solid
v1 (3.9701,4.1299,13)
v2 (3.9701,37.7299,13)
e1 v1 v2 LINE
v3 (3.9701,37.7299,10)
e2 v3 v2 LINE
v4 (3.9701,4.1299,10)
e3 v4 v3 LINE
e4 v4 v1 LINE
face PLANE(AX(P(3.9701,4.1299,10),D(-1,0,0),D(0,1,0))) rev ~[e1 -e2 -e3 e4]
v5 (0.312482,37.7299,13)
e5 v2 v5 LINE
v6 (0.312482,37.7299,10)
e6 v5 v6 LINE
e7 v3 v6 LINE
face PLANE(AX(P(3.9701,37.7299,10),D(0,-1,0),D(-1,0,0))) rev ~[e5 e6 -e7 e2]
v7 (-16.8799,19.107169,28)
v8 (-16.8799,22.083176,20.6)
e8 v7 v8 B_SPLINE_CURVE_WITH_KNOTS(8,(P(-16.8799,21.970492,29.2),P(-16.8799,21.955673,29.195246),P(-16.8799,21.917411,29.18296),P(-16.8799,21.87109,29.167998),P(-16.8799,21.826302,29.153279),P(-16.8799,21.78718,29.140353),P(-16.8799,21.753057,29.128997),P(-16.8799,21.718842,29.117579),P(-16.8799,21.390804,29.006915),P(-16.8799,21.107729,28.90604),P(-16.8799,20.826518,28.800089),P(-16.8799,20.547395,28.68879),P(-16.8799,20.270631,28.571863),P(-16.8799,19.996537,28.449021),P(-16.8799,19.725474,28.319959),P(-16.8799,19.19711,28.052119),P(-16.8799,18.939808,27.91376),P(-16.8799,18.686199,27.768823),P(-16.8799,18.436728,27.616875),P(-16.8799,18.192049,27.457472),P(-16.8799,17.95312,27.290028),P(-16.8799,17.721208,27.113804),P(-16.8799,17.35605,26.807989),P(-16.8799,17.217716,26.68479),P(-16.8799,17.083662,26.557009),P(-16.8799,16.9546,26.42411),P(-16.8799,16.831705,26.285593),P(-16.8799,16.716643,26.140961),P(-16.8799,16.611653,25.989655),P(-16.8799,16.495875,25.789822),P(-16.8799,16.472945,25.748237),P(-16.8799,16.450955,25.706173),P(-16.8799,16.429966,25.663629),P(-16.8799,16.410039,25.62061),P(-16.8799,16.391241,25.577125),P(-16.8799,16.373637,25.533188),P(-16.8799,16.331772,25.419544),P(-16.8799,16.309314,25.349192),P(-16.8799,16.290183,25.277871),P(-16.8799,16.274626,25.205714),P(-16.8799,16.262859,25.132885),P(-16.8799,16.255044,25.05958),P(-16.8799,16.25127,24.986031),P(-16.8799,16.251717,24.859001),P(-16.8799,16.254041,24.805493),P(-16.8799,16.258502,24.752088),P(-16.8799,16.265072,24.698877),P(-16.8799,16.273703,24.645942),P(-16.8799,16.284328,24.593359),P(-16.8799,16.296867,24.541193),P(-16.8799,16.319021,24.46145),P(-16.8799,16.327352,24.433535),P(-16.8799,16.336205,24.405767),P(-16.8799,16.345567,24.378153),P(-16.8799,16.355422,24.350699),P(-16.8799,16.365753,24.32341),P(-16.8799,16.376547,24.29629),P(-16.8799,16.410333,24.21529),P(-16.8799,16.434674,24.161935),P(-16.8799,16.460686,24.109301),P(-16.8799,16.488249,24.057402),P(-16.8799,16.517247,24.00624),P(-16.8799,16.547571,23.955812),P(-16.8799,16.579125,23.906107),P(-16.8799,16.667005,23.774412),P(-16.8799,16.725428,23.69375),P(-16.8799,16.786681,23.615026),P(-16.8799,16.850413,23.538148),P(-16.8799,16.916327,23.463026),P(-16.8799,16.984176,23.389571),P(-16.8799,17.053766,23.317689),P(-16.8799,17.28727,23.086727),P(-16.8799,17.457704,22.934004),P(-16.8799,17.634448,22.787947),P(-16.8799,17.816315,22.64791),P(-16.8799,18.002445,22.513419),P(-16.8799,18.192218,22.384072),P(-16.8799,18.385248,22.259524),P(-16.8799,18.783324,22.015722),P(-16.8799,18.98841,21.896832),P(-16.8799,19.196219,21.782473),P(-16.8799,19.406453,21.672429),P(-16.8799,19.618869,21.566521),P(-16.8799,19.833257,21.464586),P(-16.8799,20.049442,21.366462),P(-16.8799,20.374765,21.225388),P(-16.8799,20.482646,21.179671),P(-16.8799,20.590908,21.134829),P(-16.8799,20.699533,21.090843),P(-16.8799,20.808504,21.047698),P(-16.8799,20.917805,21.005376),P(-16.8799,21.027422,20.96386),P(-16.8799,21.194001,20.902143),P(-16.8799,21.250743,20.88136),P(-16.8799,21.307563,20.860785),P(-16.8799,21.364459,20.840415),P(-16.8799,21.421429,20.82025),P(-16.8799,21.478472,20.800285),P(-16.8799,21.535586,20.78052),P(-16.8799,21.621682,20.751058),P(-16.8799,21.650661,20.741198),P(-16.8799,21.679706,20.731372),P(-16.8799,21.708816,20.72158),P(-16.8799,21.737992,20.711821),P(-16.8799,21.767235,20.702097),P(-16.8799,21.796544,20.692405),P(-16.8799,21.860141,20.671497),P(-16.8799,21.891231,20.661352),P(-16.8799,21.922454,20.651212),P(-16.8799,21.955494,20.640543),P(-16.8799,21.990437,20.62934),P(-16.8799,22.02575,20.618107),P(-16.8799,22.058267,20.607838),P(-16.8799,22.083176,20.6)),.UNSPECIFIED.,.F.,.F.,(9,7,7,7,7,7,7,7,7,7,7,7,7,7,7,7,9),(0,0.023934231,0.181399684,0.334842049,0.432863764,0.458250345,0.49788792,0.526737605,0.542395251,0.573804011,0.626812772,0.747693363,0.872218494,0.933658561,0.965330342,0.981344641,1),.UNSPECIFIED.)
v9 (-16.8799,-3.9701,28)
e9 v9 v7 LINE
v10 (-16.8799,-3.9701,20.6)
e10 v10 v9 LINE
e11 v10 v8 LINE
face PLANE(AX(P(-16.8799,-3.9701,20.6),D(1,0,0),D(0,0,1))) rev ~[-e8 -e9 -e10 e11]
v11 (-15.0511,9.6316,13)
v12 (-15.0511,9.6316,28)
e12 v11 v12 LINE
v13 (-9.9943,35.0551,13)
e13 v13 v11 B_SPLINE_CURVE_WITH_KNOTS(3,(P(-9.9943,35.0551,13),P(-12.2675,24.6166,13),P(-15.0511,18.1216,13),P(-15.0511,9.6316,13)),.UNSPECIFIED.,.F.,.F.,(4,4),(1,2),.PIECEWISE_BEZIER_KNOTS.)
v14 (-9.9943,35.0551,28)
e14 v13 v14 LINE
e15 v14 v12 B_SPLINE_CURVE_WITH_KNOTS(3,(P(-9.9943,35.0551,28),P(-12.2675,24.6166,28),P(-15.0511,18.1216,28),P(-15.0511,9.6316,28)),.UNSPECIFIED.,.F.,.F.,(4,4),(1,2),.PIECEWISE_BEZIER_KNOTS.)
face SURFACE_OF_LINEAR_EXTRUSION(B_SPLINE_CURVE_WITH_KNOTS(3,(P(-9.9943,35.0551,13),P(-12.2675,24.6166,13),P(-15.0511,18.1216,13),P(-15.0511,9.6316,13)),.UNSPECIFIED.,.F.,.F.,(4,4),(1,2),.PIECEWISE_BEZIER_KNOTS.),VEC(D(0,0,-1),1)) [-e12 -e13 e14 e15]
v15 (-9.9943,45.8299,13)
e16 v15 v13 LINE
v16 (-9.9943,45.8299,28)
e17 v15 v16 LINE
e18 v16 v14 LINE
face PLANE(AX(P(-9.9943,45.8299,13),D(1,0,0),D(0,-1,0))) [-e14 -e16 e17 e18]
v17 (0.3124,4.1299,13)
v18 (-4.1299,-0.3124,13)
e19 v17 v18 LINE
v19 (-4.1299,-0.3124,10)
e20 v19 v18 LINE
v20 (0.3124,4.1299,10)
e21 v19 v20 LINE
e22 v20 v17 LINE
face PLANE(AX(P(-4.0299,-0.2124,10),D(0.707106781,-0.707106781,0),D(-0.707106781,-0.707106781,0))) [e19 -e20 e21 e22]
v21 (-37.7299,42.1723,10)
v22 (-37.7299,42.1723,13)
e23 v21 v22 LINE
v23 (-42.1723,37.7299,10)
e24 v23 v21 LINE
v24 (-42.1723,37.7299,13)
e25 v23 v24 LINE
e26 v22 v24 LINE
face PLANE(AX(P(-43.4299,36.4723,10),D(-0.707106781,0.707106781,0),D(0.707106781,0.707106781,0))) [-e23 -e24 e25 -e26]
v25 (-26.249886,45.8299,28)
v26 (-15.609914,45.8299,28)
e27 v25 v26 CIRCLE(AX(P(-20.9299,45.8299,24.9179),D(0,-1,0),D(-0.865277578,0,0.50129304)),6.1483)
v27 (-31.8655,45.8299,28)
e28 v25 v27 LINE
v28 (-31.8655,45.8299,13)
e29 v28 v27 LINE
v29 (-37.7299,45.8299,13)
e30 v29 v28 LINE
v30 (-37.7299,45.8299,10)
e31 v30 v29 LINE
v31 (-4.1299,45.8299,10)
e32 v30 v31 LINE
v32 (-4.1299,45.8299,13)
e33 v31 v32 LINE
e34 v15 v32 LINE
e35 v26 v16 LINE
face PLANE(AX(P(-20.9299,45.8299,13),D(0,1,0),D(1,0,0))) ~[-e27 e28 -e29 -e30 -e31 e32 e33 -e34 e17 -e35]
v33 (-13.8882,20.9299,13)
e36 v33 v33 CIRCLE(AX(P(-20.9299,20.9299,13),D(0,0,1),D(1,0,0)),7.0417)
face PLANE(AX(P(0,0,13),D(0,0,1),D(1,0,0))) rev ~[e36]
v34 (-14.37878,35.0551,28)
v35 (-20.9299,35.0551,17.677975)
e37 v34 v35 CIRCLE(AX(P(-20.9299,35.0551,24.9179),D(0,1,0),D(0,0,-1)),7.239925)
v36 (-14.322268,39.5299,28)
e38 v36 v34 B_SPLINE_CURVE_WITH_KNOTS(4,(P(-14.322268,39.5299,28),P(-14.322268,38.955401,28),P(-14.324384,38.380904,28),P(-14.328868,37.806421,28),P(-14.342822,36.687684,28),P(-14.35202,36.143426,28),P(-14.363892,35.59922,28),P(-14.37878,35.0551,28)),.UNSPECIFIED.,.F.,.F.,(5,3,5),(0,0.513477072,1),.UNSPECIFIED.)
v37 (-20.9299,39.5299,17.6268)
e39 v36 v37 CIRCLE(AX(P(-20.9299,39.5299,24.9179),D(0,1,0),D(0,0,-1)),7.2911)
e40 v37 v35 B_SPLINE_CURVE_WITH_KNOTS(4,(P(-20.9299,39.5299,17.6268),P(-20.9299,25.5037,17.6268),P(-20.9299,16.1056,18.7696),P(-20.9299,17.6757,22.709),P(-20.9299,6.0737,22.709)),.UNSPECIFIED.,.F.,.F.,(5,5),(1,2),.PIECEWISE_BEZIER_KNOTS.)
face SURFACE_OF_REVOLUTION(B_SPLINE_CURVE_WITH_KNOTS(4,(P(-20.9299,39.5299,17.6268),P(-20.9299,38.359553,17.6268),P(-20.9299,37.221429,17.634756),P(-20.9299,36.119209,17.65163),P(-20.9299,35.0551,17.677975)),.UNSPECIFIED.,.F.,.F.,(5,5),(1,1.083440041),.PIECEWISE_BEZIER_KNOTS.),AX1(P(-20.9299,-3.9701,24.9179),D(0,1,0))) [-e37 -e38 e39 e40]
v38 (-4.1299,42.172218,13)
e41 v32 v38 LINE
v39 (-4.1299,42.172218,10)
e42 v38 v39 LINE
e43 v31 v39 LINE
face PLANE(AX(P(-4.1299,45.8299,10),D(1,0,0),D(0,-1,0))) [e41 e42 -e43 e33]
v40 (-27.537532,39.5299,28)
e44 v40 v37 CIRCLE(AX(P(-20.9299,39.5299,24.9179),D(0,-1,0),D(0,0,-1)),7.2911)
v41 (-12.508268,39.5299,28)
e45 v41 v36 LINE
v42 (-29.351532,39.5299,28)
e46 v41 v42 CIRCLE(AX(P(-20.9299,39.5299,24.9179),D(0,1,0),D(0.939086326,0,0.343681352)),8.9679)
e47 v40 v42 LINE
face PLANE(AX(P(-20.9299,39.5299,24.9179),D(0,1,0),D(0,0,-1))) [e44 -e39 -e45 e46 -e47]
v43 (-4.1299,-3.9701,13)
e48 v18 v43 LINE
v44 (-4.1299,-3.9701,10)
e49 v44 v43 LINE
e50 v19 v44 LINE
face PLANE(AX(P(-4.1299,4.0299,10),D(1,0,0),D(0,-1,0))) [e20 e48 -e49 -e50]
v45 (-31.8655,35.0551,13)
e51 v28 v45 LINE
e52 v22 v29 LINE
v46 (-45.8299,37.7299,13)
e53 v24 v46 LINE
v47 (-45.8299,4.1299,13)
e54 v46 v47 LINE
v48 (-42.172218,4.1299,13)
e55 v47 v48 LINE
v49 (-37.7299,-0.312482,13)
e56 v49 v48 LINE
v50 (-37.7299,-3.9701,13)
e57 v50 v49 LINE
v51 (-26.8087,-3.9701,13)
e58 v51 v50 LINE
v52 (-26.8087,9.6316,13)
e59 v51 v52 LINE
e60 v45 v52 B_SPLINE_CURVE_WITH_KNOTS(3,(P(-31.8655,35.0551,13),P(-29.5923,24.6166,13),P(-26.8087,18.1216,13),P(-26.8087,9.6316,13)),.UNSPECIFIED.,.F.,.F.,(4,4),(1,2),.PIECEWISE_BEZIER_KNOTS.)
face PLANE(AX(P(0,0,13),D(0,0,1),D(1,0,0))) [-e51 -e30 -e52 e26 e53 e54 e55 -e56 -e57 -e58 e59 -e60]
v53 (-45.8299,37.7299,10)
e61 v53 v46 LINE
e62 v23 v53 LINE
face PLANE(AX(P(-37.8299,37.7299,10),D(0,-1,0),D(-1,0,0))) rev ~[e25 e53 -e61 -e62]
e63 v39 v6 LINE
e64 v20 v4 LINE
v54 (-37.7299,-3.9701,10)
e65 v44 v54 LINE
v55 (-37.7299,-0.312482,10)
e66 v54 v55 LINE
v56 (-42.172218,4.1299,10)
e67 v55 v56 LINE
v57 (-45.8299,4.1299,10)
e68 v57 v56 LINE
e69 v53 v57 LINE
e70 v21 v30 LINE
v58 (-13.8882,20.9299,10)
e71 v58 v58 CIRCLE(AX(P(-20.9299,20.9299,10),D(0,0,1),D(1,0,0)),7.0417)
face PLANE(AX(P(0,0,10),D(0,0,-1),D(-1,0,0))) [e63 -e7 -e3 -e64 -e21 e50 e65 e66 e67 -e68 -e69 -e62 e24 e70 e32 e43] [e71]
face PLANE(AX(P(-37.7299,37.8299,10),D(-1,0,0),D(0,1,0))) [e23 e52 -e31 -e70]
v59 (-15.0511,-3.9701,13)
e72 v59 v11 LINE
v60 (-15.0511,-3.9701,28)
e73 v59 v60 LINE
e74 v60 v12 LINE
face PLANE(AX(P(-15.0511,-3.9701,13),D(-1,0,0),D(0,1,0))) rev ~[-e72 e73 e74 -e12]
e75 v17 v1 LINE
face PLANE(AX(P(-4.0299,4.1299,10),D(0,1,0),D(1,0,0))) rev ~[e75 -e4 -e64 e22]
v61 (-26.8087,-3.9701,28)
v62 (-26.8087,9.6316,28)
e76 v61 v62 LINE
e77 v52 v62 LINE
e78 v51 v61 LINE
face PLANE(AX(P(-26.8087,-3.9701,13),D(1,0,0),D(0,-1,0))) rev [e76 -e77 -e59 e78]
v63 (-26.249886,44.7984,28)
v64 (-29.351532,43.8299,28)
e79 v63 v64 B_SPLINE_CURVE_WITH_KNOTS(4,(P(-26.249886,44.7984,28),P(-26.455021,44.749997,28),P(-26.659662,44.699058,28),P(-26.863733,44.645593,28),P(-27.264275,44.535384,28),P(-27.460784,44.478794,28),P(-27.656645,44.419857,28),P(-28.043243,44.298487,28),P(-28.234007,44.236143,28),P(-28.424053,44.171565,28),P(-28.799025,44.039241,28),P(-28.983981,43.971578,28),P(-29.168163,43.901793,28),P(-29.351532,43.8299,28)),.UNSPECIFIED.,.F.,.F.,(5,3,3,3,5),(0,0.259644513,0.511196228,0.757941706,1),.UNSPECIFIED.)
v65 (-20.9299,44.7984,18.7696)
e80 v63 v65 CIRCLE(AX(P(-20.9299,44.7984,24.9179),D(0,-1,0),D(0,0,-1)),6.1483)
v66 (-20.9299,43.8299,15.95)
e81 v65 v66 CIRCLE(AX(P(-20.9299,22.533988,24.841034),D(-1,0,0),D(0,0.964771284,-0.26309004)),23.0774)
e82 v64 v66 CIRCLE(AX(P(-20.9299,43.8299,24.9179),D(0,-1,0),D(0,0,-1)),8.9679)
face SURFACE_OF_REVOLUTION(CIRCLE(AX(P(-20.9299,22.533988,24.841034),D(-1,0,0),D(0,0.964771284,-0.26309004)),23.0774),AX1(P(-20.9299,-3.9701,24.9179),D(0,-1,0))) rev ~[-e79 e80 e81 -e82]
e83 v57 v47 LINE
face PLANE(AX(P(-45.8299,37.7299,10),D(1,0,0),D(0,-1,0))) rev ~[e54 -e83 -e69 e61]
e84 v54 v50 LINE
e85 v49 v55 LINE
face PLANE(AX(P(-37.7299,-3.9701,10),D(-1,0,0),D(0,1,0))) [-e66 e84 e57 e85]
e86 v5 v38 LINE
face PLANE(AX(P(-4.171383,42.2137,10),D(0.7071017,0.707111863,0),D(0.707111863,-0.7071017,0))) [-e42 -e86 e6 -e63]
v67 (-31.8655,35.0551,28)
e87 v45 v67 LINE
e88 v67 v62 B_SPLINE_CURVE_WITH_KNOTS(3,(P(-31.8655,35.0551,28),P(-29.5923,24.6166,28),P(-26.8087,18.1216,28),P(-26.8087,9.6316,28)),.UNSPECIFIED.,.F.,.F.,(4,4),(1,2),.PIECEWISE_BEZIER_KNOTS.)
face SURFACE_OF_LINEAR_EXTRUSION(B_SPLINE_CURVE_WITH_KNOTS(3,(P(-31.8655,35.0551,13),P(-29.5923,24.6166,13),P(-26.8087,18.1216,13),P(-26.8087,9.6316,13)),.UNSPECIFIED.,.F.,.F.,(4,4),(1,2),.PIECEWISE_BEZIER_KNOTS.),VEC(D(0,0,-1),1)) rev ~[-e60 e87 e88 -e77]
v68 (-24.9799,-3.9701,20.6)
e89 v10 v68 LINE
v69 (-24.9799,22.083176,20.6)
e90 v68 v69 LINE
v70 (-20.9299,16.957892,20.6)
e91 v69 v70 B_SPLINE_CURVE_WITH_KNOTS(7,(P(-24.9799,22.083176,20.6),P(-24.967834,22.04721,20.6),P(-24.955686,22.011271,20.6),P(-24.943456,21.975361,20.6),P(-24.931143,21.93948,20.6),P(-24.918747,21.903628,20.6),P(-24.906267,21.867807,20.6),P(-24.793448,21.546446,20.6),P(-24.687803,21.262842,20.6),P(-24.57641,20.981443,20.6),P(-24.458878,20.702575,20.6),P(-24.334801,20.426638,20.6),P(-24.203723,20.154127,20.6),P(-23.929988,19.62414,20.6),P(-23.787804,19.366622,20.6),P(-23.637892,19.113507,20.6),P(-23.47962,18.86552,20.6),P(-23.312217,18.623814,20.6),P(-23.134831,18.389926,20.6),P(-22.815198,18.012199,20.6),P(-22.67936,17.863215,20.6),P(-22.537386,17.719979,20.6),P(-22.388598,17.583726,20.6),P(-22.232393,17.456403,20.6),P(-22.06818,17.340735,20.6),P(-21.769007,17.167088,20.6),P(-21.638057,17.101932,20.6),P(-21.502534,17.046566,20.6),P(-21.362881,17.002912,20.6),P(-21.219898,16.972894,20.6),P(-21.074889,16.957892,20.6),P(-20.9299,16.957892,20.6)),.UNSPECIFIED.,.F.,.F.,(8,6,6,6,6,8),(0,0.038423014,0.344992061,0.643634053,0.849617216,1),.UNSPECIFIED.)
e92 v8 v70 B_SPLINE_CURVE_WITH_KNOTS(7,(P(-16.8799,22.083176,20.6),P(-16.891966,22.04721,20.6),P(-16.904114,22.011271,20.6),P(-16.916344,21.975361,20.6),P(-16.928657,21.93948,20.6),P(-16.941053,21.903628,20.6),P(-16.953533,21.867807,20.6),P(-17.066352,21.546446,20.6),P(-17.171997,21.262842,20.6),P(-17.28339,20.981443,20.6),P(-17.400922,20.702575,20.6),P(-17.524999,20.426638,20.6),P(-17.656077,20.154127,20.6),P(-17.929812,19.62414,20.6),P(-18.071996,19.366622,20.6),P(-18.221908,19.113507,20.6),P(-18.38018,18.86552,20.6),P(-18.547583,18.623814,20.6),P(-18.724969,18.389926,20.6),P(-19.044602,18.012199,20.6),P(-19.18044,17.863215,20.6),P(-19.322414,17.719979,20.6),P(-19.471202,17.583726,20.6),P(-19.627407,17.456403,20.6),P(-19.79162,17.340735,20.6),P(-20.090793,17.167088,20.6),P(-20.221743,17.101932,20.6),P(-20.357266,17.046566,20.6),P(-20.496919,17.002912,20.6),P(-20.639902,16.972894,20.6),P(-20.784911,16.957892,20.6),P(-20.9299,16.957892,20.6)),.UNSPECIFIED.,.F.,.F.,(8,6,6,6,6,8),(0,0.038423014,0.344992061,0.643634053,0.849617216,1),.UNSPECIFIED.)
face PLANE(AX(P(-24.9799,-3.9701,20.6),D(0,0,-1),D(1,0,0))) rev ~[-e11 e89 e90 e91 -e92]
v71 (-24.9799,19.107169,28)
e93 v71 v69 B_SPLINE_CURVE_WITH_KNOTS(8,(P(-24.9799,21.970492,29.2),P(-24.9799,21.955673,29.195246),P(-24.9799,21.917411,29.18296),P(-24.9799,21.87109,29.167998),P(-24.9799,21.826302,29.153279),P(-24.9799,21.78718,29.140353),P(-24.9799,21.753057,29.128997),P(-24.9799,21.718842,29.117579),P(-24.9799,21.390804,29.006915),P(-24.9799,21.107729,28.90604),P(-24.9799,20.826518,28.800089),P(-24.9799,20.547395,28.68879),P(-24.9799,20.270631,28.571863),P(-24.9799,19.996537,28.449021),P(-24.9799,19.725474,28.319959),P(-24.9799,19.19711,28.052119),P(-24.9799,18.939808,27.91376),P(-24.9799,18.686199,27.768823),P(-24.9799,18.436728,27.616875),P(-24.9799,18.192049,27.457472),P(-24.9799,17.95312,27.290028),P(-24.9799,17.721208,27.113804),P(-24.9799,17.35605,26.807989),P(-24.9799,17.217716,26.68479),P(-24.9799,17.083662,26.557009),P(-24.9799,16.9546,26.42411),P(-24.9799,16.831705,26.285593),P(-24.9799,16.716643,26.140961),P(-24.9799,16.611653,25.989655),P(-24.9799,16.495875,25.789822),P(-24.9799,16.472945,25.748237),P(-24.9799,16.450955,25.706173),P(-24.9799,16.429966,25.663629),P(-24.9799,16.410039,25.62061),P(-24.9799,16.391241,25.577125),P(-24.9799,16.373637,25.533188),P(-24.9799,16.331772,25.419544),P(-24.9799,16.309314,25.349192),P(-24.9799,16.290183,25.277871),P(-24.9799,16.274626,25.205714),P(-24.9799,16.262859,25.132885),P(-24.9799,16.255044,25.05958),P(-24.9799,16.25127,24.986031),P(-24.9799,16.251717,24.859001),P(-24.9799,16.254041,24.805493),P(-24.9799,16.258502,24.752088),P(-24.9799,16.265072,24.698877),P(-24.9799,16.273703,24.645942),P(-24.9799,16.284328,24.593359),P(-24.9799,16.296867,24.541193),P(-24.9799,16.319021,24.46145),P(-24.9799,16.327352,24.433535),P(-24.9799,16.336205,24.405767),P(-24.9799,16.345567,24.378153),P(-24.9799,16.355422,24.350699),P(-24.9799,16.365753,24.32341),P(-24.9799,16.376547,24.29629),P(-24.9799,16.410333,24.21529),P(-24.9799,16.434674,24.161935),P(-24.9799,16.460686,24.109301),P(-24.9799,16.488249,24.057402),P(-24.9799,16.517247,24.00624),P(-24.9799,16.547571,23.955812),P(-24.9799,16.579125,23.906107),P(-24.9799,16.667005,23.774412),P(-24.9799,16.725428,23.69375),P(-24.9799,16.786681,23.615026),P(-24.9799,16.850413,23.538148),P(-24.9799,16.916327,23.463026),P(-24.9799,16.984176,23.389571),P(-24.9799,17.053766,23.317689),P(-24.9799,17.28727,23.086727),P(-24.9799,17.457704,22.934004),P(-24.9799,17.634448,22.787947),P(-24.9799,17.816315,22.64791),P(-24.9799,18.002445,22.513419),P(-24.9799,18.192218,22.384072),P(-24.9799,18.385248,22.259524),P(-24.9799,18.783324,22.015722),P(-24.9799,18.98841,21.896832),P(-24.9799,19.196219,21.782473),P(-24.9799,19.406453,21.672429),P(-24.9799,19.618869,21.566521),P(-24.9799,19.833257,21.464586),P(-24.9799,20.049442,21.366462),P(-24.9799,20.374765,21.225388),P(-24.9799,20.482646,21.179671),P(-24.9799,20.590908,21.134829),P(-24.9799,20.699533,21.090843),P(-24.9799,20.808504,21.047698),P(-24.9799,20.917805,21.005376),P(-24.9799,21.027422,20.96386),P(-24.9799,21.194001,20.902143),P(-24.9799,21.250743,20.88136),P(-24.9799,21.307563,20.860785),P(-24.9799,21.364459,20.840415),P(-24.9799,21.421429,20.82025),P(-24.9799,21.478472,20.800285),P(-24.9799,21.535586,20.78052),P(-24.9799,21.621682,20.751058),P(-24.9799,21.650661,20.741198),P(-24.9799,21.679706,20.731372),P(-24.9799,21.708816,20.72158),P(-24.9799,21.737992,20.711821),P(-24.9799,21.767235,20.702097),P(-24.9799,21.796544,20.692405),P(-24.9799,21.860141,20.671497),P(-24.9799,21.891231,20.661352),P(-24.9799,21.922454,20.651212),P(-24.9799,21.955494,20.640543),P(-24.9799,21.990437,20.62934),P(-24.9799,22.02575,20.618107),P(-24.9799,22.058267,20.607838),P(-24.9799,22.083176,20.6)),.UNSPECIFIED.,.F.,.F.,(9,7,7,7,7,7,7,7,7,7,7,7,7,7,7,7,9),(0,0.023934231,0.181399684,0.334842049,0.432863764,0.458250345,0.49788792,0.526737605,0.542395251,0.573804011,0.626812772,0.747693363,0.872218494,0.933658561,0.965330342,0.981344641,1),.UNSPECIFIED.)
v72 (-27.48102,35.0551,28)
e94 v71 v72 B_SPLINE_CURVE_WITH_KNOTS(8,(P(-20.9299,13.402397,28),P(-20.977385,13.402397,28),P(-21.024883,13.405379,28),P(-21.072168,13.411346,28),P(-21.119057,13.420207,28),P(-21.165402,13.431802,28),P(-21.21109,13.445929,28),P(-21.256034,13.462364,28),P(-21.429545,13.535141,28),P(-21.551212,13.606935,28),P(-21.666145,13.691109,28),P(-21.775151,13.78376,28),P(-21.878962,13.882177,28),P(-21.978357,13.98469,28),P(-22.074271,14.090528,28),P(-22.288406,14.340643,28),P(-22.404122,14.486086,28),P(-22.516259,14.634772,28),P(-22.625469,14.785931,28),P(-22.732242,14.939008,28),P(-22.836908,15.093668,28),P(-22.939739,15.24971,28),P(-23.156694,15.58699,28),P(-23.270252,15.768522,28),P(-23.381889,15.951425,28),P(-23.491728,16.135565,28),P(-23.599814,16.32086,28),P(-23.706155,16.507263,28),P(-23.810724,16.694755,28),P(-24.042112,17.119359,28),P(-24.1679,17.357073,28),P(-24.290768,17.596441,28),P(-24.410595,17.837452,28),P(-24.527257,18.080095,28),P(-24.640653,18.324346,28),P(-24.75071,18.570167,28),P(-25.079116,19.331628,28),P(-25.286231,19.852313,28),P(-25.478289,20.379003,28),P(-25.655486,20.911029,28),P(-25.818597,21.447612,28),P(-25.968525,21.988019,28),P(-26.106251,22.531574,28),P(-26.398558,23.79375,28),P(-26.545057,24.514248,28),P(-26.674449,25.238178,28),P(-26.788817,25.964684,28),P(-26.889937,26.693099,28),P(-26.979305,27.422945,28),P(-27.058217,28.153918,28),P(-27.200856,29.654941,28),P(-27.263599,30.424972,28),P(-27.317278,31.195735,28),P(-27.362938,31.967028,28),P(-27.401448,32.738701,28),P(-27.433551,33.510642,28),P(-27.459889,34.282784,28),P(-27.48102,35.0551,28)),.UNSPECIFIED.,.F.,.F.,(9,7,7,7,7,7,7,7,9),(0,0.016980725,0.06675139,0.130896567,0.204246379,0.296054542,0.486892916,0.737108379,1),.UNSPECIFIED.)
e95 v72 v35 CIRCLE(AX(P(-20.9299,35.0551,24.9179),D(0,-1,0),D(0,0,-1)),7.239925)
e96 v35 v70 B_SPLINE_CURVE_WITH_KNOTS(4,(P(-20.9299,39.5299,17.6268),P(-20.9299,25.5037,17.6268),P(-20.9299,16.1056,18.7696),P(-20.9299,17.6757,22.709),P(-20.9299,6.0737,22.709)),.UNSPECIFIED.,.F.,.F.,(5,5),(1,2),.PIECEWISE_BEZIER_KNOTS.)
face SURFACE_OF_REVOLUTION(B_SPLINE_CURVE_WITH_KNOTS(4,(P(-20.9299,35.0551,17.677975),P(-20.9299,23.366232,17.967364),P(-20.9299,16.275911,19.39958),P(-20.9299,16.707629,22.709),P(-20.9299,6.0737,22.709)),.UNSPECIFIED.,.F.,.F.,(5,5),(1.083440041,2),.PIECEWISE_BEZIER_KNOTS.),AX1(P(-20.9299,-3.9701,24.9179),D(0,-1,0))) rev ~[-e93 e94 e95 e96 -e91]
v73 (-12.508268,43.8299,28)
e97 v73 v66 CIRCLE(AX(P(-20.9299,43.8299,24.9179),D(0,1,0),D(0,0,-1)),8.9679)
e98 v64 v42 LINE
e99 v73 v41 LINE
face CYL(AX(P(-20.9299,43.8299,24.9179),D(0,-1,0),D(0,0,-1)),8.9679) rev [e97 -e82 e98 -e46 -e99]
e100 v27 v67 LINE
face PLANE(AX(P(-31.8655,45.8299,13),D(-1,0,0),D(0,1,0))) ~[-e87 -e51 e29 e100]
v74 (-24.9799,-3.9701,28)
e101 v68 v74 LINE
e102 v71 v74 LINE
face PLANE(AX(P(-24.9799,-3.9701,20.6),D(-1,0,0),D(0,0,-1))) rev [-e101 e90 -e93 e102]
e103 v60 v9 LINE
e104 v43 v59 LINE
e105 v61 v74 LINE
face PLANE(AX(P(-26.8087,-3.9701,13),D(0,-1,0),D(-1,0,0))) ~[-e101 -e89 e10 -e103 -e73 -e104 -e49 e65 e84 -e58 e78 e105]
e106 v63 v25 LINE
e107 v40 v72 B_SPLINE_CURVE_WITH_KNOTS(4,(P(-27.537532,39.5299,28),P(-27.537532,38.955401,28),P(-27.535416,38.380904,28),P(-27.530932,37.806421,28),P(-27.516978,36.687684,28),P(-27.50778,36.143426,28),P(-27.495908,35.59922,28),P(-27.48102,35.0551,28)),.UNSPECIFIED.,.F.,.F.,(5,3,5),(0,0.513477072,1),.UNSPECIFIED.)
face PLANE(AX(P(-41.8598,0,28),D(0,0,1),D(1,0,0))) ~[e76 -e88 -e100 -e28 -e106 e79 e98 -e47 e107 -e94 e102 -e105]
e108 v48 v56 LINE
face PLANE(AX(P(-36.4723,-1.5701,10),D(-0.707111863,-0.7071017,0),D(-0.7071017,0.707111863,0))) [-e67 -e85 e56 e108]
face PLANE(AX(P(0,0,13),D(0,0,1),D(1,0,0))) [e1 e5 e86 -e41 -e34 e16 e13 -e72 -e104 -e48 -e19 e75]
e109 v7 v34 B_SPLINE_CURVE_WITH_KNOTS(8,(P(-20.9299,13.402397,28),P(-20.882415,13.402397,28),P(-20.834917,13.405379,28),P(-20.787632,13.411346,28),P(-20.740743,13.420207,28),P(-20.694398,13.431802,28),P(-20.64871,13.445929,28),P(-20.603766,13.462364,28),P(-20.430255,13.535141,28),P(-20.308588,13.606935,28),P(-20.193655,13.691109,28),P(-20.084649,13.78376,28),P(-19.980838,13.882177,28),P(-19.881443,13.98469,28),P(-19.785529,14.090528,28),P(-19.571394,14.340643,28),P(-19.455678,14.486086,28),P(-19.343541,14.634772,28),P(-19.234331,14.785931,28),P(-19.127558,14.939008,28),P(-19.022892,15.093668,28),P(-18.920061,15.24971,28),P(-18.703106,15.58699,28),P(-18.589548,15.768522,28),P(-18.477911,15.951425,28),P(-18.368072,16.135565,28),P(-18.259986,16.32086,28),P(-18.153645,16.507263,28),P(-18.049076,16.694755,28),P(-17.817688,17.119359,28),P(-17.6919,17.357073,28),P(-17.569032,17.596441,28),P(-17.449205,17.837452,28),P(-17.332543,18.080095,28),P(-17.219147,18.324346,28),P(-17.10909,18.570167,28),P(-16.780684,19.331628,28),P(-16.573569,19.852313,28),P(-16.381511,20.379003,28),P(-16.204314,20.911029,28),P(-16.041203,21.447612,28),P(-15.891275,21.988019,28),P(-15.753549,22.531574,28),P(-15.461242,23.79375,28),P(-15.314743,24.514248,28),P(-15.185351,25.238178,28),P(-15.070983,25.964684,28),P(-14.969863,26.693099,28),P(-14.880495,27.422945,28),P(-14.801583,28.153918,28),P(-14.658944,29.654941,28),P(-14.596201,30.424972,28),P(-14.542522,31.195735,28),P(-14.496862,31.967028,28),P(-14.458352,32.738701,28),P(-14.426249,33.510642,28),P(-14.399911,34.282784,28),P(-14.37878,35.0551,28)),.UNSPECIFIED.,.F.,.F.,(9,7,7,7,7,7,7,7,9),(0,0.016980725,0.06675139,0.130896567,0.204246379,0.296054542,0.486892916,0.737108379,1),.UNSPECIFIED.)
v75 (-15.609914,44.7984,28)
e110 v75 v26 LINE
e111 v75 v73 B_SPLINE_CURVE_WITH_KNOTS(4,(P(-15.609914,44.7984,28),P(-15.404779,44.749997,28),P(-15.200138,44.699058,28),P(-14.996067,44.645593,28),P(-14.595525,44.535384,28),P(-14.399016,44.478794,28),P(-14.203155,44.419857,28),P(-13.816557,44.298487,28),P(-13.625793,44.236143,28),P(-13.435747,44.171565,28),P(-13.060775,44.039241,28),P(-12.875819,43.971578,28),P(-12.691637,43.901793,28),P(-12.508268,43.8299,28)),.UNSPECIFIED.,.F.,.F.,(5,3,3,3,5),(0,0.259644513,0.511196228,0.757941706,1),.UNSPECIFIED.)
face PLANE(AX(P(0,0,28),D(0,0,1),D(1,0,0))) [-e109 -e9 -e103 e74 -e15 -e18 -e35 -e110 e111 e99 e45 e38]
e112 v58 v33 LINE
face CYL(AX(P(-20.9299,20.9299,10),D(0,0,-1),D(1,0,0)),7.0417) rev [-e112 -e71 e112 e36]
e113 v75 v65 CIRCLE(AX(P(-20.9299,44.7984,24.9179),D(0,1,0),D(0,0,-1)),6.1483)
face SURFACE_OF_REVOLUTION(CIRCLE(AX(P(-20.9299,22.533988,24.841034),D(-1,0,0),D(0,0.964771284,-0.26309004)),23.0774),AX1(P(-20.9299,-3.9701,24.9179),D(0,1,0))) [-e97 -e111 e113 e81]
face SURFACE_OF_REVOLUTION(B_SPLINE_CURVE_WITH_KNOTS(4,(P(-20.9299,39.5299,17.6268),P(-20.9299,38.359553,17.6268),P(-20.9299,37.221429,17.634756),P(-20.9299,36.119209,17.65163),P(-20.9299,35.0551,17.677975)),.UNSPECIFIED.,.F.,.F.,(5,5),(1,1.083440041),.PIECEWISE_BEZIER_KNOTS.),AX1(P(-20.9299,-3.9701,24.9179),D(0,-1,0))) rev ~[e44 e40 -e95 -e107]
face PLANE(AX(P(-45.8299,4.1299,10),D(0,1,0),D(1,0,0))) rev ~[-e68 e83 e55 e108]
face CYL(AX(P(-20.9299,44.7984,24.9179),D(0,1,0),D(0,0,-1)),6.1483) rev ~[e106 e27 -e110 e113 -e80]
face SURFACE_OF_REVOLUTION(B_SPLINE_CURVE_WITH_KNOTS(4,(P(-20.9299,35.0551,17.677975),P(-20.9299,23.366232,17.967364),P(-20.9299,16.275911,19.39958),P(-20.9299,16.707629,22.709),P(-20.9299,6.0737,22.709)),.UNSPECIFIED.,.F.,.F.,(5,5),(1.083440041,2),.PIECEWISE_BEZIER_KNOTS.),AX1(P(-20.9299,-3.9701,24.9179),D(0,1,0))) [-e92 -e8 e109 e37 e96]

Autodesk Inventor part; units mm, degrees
ref_plane "YZ Plane" through (0, 0, 0) normal (1, 0, 0) x (0, 1, 0)
ref_plane "Work Plane1" through (0, 0, 10) normal (0, 0, 1) x (1, 0, 0)
sketch "Sketch1" plane through (0, 0, 10) normal (0, 0, 1) x (1, 0, 0)
  line L0 (-4.0299, -0.3538) -> (-2.2322, 1.4439) construction
  arc A0 (-1.4439, 2.2322) -> (-2.2322, 1.4439) centre (-0.9299, 0.9299) ccw construction
  line L1 (-1.4439, 2.2322) -> (0.3538, 4.0299) construction
  line L2 (-37.8299, 42.2137) -> (-37.8299, 45.8299) construction
  line L3 (-37.8299, 45.8299) -> (-4.0299, 45.8299) construction
  line L4 (-4.0299, 45.8299) -> (-4.0299, 42.2137) construction
  line L5 (-4.0299, 4.0299) -> (0.3538, 4.0299) projected
  circle A1 centre (-20.9299, 20.9299) radius 17.5 projected
  line L6 (-20.9299, 58.9723) -> (17.1124, 20.9299) construction
  line L7 (17.1124, 20.9299) -> (-20.9299, -17.1124) construction
  line L8 (-20.9299, -17.1124) -> (-58.9723, 20.9299) construction
  line L9 (-58.9723, 20.9299) -> (-20.9299, 58.9723) construction
  line L10 (-20.9299, 58.9723) -> (-20.9299, -17.1124) construction
  line L11 (17.1124, 20.9299) -> (-58.9723, 20.9299) construction
  line L12 (-20.9299, 58.9723) -> (32.8701, 58.9723) construction
  line L13 (-43.4299, 43.4299) -> (1.5701, 43.4299) construction
  line L14 (1.5701, 43.4299) -> (1.5701, -1.5701) construction
  line L15 (1.5701, -1.5701) -> (-43.4299, -1.5701) construction
  line L16 (-43.4299, -1.5701) -> (-43.4299, 43.4299) construction
  line L17 (-43.4299, 43.4299) -> (1.5701, -1.5701) construction
  line L18 (1.5701, 43.4299) -> (-43.4299, -1.5701) construction
  line L19 (-43.4299, 5.3876) -> (-43.4299, 36.4723)
  line L20 (-43.4299, 36.4723) -> (-36.4723, 43.4299)
  line L21 (-36.4723, 43.4299) -> (-5.3876, 43.4299)
  line L22 (-5.3876, 43.4299) -> (1.5701, 36.4723)
  line L23 (1.5701, 36.4723) -> (1.5701, 5.3876)
  line L24 (1.5701, 5.3876) -> (-5.3876, -1.5701)
  line L25 (-5.3876, -1.5701) -> (-36.4723, -1.5701)
  line L26 (-36.4723, -1.5701) -> (-43.4299, 5.3876)
  line L27 (-4.0299, 42.2137) -> (-37.8299, 42.2137) projected
  line L28 (-4.0299, -0.3538) -> (-4.0299, 4.0299) projected
  circle A2 centre (-20.9299, 20.9299) radius 7.0417
  point P0 (-37.8299, 4.0299)
  dimension "d18" = 53.8
  dimension "d19" = 45
  dimension "d20" = 53.8
  dimension "d21" = 45
  dimension "d22" = 45
extrude "Extrusion1" add sketch "Sketch1" along normal blind 3 contours L28 L24 L25 L26 L19 L20 L27 L22 L23 L5 | L5 L24 L28 | L27 L20 L21 L22 | A1
sketch "Sketch3" plane through (0, 0, 10) normal (0, 0, -1) x (-1, 0, 0)
  line L0 (37.8299, -0.4701) -> (37.8299, 4.0299) construction
  line L1 (4.0299, 4.0299) -> (4.0299, -0.4701) construction
  line L2 (37.8299, -0.4701) -> (37.8299, 1.1886) construction
  line L3 (4.0299, -3.9701) -> (4.0299, -0.3538) construction
  line L4 (45.8299, 4.0299) -> (42.2137, 4.0299) construction
  line L5 (-0.3538, 4.0299) -> (-3.9701, 4.0299) construction
  line L6 (-3.9701, 37.8299) -> (-0.3538, 37.8299) construction
  line L7 (4.0299, 42.2137) -> (4.0299, 45.8299) construction
  line L8 (37.8299, 45.8299) -> (37.8299, 42.2137) construction
  line L9 (42.2137, 37.8299) -> (45.8299, 37.8299) construction
  line L10 (37.8299, 37.7299) -> (45.8299, 37.7299)
  line L11 (45.8299, 37.7299) -> (45.8299, 4.1299)
  line L12 (45.8299, 4.1299) -> (37.8299, 4.1299)
  line L13 (37.8299, 4.1299) -> (37.8299, 37.7299)
  line L14 (37.7299, 4.0299) -> (4.1299, 4.0299)
  line L15 (4.1299, 4.0299) -> (4.1299, -3.9701)
  line L16 (4.1299, -3.9701) -> (37.7299, -3.9701)
  line L17 (37.7299, -3.9701) -> (37.7299, 4.0299)
  line L18 (4.0299, 4.1299) -> (-3.9701, 4.1299)
  line L19 (-3.9701, 4.1299) -> (-3.9701, 37.7299)
  line L20 (-3.9701, 37.7299) -> (4.0299, 37.7299)
  line L21 (4.0299, 37.7299) -> (4.0299, 4.1299)
  line L22 (4.1299, 37.8299) -> (37.7299, 37.8299)
  line L23 (37.7299, 37.8299) -> (37.7299, 45.8299)
  line L24 (37.7299, 45.8299) -> (4.1299, 45.8299)
  line L25 (4.1299, 45.8299) -> (4.1299, 37.8299)
  point P0 (0, 0)
  dimension "d23" = 0.1
  dimension "d24" = 0.1
  dimension "d25" = 0.1
  dimension "d26" = 0.1
  dimension "d27" = 0.1
extrude "Extrusion3" add sketch "Sketch3" against normal up to surface (3 mm away)
ref_plane "Work Plane4" through (-20.9299, 20.9299, 36.9) normal (-1, 0, 0) x (0, 1, 0)
sketch "Sketch11" plane through (-20.9299, 20.9299, 36.9) normal (-1, 0, 0) x (0, 1, 0)
  point P0 (-20.9299, 36.9)
sketch "Sketch12" plane through (0, 0, 13) normal (0, 0, 1) x (1, 0, 0)
  line L0 (-11.9799, 39.5299) -> (-11.9799, 43.8299) construction
  line L1 (-17.0799, -2.9701) -> (-17.0799, 2.0299) construction
  line L2 (-37.7299, 45.8299) -> (-4.1299, 45.8299) projected
  line L3 (-20.9299, 45.8299) -> (-20.9299, -3.9701)
  line L4 (-4.1299, -3.9701) -> (-37.7299, -3.9701) projected
  line L5 (-20.9299, -3.9701) -> (-15.0511, -3.9701)
  line L6 (-15.0511, -3.9701) -> (-15.0511, 9.6316)
  line L7 (-20.9299, 45.8299) -> (-9.9943, 45.8299)
  line L8 (-9.9943, 45.8299) -> (-9.9943, 35.0551)
  line L9 (-9.9943, 35.0551) -> (-12.2675, 24.6166) construction
  line L10 (-12.2675, 24.6166) -> (-15.0511, 18.1216) construction
  line L11 (-15.0511, 18.1216) -> (-15.0511, 9.6316) construction
  spline S0 degree 3 poles (-9.9943, 35.0551) (-12.2675, 24.6166) (-15.0511, 18.1216) (-15.0511, 9.6316) knots 1 1 1 1 2 2 2 2
  point P0 (0, 0)
extrude "Extrusion10" add sketch "Sketch12" along normal blind 15
sketch "Sketch13" plane through (-20.9299, 13.8882, 13) normal (-1, 0, 0) x (0, 0, 1)
  line L0 (34.8, 31.9417) -> (-5, 31.9417) projected
  line L1 (36.8, -17.8583) -> (-5, -17.8583) construction
  line L2 (0, -17.8583) -> (15, -17.8583) projected
  line L3 (11.9179, -17.8583) -> (11.9179, 31.9417)
  line L4 (-5, 29.9417) -> (34.8, 29.9417) construction
  line L5 (16, -16.8583) -> (16, -11.8583) construction
  line L6 (9.0528, -16.8583) -> (9.0528, -11.8583) construction
  line L7 (9.709, -7.8145) -> (9.709, -17.8583)
  line L8 (9.709, -17.8583) -> (11.9179, -17.8583)
  arc A0 (5.7696, 30.9102) -> (2.95, 29.9417) centre (11.845, 8.6329) ccw
  line L9 (11.9179, 31.9417) -> (7.5, 31.9417)
  line L10 (0, 31.9417) -> (15, 31.9417) projected
  line L11 (9.709, -17.8583) -> (11.9179, -17.8583)
  line L12 (2.95, 29.9417) -> (2.95, 25.6417)
  line L13 (2.95, 25.6417) -> (4.6268, 25.6417)
  line L14 (7.5, 31.9417) -> (5.7696, 31.9417)
  line L15 (5.7696, 30.9102) -> (5.7696, 31.9417)
  line L16 (4.6268, 25.6417) -> (4.6268, 11.6155) construction
  line L17 (0, 21.1669) -> (15, 21.1669) projected
  line L18 (4.6268, 11.6155) -> (5.7696, 2.2174) construction
  line L19 (5.7696, 2.2174) -> (9.709, 3.7875) construction
  line L20 (9.709, 3.7875) -> (9.709, -7.8145) construction
  spline S0 degree 4 poles (4.6268, 25.6417) (4.6268, 11.6155) (5.7696, 2.2174) (9.709, 3.7875) (9.709, -7.8145) knots 1 1 1 1 1 2 2 2 2 2
  point P0 (-13, -13.8882)
  dimension "d69" = 4.4179
revolve "Revolution1" cut sketch "Sketch13" angle 360 about axis through (-20.9299, -3.9701, 24.9179) along (0, 1, 0)
sketch "Sketch14" plane through (-37.7299, -3.9701, 10) normal (0, -1, 0) x (1, 0, 0)
  circle A0 centre (16.8, 14.9) radius 2.8472 projected
  line L0 (12.95, 19) -> (20.65, 19) projected
  line L1 (12.95, 10.8) -> (12.95, 19) projected
  line L2 (20.65, 10.8) -> (12.95, 10.8) projected
  line L3 (20.65, 19) -> (20.65, 10.8) projected
  line L4 (20.85, 19.2) -> (12.75, 19.2)
  line L5 (12.75, 19.2) -> (12.75, 10.6)
  line L6 (12.75, 10.6) -> (20.85, 10.6)
  line L7 (20.85, 10.6) -> (20.85, 19.2)
  point P0 (37.7299, -10)
  dimension "d66" = 0.2
extrude "Extrusion11" cut sketch "Sketch14" against normal through all contours A0 | L0 L3 L2 L1 | L7 L6 L5 L4
mirror "Mirror1" about plane through (-20.9299, 45.8299, 13) normal (-1, 0, 0) of "Extrusion10", "Revolution1", "Extrusion11"
properties part number "20_Cube_Insert_Beamexpander"
